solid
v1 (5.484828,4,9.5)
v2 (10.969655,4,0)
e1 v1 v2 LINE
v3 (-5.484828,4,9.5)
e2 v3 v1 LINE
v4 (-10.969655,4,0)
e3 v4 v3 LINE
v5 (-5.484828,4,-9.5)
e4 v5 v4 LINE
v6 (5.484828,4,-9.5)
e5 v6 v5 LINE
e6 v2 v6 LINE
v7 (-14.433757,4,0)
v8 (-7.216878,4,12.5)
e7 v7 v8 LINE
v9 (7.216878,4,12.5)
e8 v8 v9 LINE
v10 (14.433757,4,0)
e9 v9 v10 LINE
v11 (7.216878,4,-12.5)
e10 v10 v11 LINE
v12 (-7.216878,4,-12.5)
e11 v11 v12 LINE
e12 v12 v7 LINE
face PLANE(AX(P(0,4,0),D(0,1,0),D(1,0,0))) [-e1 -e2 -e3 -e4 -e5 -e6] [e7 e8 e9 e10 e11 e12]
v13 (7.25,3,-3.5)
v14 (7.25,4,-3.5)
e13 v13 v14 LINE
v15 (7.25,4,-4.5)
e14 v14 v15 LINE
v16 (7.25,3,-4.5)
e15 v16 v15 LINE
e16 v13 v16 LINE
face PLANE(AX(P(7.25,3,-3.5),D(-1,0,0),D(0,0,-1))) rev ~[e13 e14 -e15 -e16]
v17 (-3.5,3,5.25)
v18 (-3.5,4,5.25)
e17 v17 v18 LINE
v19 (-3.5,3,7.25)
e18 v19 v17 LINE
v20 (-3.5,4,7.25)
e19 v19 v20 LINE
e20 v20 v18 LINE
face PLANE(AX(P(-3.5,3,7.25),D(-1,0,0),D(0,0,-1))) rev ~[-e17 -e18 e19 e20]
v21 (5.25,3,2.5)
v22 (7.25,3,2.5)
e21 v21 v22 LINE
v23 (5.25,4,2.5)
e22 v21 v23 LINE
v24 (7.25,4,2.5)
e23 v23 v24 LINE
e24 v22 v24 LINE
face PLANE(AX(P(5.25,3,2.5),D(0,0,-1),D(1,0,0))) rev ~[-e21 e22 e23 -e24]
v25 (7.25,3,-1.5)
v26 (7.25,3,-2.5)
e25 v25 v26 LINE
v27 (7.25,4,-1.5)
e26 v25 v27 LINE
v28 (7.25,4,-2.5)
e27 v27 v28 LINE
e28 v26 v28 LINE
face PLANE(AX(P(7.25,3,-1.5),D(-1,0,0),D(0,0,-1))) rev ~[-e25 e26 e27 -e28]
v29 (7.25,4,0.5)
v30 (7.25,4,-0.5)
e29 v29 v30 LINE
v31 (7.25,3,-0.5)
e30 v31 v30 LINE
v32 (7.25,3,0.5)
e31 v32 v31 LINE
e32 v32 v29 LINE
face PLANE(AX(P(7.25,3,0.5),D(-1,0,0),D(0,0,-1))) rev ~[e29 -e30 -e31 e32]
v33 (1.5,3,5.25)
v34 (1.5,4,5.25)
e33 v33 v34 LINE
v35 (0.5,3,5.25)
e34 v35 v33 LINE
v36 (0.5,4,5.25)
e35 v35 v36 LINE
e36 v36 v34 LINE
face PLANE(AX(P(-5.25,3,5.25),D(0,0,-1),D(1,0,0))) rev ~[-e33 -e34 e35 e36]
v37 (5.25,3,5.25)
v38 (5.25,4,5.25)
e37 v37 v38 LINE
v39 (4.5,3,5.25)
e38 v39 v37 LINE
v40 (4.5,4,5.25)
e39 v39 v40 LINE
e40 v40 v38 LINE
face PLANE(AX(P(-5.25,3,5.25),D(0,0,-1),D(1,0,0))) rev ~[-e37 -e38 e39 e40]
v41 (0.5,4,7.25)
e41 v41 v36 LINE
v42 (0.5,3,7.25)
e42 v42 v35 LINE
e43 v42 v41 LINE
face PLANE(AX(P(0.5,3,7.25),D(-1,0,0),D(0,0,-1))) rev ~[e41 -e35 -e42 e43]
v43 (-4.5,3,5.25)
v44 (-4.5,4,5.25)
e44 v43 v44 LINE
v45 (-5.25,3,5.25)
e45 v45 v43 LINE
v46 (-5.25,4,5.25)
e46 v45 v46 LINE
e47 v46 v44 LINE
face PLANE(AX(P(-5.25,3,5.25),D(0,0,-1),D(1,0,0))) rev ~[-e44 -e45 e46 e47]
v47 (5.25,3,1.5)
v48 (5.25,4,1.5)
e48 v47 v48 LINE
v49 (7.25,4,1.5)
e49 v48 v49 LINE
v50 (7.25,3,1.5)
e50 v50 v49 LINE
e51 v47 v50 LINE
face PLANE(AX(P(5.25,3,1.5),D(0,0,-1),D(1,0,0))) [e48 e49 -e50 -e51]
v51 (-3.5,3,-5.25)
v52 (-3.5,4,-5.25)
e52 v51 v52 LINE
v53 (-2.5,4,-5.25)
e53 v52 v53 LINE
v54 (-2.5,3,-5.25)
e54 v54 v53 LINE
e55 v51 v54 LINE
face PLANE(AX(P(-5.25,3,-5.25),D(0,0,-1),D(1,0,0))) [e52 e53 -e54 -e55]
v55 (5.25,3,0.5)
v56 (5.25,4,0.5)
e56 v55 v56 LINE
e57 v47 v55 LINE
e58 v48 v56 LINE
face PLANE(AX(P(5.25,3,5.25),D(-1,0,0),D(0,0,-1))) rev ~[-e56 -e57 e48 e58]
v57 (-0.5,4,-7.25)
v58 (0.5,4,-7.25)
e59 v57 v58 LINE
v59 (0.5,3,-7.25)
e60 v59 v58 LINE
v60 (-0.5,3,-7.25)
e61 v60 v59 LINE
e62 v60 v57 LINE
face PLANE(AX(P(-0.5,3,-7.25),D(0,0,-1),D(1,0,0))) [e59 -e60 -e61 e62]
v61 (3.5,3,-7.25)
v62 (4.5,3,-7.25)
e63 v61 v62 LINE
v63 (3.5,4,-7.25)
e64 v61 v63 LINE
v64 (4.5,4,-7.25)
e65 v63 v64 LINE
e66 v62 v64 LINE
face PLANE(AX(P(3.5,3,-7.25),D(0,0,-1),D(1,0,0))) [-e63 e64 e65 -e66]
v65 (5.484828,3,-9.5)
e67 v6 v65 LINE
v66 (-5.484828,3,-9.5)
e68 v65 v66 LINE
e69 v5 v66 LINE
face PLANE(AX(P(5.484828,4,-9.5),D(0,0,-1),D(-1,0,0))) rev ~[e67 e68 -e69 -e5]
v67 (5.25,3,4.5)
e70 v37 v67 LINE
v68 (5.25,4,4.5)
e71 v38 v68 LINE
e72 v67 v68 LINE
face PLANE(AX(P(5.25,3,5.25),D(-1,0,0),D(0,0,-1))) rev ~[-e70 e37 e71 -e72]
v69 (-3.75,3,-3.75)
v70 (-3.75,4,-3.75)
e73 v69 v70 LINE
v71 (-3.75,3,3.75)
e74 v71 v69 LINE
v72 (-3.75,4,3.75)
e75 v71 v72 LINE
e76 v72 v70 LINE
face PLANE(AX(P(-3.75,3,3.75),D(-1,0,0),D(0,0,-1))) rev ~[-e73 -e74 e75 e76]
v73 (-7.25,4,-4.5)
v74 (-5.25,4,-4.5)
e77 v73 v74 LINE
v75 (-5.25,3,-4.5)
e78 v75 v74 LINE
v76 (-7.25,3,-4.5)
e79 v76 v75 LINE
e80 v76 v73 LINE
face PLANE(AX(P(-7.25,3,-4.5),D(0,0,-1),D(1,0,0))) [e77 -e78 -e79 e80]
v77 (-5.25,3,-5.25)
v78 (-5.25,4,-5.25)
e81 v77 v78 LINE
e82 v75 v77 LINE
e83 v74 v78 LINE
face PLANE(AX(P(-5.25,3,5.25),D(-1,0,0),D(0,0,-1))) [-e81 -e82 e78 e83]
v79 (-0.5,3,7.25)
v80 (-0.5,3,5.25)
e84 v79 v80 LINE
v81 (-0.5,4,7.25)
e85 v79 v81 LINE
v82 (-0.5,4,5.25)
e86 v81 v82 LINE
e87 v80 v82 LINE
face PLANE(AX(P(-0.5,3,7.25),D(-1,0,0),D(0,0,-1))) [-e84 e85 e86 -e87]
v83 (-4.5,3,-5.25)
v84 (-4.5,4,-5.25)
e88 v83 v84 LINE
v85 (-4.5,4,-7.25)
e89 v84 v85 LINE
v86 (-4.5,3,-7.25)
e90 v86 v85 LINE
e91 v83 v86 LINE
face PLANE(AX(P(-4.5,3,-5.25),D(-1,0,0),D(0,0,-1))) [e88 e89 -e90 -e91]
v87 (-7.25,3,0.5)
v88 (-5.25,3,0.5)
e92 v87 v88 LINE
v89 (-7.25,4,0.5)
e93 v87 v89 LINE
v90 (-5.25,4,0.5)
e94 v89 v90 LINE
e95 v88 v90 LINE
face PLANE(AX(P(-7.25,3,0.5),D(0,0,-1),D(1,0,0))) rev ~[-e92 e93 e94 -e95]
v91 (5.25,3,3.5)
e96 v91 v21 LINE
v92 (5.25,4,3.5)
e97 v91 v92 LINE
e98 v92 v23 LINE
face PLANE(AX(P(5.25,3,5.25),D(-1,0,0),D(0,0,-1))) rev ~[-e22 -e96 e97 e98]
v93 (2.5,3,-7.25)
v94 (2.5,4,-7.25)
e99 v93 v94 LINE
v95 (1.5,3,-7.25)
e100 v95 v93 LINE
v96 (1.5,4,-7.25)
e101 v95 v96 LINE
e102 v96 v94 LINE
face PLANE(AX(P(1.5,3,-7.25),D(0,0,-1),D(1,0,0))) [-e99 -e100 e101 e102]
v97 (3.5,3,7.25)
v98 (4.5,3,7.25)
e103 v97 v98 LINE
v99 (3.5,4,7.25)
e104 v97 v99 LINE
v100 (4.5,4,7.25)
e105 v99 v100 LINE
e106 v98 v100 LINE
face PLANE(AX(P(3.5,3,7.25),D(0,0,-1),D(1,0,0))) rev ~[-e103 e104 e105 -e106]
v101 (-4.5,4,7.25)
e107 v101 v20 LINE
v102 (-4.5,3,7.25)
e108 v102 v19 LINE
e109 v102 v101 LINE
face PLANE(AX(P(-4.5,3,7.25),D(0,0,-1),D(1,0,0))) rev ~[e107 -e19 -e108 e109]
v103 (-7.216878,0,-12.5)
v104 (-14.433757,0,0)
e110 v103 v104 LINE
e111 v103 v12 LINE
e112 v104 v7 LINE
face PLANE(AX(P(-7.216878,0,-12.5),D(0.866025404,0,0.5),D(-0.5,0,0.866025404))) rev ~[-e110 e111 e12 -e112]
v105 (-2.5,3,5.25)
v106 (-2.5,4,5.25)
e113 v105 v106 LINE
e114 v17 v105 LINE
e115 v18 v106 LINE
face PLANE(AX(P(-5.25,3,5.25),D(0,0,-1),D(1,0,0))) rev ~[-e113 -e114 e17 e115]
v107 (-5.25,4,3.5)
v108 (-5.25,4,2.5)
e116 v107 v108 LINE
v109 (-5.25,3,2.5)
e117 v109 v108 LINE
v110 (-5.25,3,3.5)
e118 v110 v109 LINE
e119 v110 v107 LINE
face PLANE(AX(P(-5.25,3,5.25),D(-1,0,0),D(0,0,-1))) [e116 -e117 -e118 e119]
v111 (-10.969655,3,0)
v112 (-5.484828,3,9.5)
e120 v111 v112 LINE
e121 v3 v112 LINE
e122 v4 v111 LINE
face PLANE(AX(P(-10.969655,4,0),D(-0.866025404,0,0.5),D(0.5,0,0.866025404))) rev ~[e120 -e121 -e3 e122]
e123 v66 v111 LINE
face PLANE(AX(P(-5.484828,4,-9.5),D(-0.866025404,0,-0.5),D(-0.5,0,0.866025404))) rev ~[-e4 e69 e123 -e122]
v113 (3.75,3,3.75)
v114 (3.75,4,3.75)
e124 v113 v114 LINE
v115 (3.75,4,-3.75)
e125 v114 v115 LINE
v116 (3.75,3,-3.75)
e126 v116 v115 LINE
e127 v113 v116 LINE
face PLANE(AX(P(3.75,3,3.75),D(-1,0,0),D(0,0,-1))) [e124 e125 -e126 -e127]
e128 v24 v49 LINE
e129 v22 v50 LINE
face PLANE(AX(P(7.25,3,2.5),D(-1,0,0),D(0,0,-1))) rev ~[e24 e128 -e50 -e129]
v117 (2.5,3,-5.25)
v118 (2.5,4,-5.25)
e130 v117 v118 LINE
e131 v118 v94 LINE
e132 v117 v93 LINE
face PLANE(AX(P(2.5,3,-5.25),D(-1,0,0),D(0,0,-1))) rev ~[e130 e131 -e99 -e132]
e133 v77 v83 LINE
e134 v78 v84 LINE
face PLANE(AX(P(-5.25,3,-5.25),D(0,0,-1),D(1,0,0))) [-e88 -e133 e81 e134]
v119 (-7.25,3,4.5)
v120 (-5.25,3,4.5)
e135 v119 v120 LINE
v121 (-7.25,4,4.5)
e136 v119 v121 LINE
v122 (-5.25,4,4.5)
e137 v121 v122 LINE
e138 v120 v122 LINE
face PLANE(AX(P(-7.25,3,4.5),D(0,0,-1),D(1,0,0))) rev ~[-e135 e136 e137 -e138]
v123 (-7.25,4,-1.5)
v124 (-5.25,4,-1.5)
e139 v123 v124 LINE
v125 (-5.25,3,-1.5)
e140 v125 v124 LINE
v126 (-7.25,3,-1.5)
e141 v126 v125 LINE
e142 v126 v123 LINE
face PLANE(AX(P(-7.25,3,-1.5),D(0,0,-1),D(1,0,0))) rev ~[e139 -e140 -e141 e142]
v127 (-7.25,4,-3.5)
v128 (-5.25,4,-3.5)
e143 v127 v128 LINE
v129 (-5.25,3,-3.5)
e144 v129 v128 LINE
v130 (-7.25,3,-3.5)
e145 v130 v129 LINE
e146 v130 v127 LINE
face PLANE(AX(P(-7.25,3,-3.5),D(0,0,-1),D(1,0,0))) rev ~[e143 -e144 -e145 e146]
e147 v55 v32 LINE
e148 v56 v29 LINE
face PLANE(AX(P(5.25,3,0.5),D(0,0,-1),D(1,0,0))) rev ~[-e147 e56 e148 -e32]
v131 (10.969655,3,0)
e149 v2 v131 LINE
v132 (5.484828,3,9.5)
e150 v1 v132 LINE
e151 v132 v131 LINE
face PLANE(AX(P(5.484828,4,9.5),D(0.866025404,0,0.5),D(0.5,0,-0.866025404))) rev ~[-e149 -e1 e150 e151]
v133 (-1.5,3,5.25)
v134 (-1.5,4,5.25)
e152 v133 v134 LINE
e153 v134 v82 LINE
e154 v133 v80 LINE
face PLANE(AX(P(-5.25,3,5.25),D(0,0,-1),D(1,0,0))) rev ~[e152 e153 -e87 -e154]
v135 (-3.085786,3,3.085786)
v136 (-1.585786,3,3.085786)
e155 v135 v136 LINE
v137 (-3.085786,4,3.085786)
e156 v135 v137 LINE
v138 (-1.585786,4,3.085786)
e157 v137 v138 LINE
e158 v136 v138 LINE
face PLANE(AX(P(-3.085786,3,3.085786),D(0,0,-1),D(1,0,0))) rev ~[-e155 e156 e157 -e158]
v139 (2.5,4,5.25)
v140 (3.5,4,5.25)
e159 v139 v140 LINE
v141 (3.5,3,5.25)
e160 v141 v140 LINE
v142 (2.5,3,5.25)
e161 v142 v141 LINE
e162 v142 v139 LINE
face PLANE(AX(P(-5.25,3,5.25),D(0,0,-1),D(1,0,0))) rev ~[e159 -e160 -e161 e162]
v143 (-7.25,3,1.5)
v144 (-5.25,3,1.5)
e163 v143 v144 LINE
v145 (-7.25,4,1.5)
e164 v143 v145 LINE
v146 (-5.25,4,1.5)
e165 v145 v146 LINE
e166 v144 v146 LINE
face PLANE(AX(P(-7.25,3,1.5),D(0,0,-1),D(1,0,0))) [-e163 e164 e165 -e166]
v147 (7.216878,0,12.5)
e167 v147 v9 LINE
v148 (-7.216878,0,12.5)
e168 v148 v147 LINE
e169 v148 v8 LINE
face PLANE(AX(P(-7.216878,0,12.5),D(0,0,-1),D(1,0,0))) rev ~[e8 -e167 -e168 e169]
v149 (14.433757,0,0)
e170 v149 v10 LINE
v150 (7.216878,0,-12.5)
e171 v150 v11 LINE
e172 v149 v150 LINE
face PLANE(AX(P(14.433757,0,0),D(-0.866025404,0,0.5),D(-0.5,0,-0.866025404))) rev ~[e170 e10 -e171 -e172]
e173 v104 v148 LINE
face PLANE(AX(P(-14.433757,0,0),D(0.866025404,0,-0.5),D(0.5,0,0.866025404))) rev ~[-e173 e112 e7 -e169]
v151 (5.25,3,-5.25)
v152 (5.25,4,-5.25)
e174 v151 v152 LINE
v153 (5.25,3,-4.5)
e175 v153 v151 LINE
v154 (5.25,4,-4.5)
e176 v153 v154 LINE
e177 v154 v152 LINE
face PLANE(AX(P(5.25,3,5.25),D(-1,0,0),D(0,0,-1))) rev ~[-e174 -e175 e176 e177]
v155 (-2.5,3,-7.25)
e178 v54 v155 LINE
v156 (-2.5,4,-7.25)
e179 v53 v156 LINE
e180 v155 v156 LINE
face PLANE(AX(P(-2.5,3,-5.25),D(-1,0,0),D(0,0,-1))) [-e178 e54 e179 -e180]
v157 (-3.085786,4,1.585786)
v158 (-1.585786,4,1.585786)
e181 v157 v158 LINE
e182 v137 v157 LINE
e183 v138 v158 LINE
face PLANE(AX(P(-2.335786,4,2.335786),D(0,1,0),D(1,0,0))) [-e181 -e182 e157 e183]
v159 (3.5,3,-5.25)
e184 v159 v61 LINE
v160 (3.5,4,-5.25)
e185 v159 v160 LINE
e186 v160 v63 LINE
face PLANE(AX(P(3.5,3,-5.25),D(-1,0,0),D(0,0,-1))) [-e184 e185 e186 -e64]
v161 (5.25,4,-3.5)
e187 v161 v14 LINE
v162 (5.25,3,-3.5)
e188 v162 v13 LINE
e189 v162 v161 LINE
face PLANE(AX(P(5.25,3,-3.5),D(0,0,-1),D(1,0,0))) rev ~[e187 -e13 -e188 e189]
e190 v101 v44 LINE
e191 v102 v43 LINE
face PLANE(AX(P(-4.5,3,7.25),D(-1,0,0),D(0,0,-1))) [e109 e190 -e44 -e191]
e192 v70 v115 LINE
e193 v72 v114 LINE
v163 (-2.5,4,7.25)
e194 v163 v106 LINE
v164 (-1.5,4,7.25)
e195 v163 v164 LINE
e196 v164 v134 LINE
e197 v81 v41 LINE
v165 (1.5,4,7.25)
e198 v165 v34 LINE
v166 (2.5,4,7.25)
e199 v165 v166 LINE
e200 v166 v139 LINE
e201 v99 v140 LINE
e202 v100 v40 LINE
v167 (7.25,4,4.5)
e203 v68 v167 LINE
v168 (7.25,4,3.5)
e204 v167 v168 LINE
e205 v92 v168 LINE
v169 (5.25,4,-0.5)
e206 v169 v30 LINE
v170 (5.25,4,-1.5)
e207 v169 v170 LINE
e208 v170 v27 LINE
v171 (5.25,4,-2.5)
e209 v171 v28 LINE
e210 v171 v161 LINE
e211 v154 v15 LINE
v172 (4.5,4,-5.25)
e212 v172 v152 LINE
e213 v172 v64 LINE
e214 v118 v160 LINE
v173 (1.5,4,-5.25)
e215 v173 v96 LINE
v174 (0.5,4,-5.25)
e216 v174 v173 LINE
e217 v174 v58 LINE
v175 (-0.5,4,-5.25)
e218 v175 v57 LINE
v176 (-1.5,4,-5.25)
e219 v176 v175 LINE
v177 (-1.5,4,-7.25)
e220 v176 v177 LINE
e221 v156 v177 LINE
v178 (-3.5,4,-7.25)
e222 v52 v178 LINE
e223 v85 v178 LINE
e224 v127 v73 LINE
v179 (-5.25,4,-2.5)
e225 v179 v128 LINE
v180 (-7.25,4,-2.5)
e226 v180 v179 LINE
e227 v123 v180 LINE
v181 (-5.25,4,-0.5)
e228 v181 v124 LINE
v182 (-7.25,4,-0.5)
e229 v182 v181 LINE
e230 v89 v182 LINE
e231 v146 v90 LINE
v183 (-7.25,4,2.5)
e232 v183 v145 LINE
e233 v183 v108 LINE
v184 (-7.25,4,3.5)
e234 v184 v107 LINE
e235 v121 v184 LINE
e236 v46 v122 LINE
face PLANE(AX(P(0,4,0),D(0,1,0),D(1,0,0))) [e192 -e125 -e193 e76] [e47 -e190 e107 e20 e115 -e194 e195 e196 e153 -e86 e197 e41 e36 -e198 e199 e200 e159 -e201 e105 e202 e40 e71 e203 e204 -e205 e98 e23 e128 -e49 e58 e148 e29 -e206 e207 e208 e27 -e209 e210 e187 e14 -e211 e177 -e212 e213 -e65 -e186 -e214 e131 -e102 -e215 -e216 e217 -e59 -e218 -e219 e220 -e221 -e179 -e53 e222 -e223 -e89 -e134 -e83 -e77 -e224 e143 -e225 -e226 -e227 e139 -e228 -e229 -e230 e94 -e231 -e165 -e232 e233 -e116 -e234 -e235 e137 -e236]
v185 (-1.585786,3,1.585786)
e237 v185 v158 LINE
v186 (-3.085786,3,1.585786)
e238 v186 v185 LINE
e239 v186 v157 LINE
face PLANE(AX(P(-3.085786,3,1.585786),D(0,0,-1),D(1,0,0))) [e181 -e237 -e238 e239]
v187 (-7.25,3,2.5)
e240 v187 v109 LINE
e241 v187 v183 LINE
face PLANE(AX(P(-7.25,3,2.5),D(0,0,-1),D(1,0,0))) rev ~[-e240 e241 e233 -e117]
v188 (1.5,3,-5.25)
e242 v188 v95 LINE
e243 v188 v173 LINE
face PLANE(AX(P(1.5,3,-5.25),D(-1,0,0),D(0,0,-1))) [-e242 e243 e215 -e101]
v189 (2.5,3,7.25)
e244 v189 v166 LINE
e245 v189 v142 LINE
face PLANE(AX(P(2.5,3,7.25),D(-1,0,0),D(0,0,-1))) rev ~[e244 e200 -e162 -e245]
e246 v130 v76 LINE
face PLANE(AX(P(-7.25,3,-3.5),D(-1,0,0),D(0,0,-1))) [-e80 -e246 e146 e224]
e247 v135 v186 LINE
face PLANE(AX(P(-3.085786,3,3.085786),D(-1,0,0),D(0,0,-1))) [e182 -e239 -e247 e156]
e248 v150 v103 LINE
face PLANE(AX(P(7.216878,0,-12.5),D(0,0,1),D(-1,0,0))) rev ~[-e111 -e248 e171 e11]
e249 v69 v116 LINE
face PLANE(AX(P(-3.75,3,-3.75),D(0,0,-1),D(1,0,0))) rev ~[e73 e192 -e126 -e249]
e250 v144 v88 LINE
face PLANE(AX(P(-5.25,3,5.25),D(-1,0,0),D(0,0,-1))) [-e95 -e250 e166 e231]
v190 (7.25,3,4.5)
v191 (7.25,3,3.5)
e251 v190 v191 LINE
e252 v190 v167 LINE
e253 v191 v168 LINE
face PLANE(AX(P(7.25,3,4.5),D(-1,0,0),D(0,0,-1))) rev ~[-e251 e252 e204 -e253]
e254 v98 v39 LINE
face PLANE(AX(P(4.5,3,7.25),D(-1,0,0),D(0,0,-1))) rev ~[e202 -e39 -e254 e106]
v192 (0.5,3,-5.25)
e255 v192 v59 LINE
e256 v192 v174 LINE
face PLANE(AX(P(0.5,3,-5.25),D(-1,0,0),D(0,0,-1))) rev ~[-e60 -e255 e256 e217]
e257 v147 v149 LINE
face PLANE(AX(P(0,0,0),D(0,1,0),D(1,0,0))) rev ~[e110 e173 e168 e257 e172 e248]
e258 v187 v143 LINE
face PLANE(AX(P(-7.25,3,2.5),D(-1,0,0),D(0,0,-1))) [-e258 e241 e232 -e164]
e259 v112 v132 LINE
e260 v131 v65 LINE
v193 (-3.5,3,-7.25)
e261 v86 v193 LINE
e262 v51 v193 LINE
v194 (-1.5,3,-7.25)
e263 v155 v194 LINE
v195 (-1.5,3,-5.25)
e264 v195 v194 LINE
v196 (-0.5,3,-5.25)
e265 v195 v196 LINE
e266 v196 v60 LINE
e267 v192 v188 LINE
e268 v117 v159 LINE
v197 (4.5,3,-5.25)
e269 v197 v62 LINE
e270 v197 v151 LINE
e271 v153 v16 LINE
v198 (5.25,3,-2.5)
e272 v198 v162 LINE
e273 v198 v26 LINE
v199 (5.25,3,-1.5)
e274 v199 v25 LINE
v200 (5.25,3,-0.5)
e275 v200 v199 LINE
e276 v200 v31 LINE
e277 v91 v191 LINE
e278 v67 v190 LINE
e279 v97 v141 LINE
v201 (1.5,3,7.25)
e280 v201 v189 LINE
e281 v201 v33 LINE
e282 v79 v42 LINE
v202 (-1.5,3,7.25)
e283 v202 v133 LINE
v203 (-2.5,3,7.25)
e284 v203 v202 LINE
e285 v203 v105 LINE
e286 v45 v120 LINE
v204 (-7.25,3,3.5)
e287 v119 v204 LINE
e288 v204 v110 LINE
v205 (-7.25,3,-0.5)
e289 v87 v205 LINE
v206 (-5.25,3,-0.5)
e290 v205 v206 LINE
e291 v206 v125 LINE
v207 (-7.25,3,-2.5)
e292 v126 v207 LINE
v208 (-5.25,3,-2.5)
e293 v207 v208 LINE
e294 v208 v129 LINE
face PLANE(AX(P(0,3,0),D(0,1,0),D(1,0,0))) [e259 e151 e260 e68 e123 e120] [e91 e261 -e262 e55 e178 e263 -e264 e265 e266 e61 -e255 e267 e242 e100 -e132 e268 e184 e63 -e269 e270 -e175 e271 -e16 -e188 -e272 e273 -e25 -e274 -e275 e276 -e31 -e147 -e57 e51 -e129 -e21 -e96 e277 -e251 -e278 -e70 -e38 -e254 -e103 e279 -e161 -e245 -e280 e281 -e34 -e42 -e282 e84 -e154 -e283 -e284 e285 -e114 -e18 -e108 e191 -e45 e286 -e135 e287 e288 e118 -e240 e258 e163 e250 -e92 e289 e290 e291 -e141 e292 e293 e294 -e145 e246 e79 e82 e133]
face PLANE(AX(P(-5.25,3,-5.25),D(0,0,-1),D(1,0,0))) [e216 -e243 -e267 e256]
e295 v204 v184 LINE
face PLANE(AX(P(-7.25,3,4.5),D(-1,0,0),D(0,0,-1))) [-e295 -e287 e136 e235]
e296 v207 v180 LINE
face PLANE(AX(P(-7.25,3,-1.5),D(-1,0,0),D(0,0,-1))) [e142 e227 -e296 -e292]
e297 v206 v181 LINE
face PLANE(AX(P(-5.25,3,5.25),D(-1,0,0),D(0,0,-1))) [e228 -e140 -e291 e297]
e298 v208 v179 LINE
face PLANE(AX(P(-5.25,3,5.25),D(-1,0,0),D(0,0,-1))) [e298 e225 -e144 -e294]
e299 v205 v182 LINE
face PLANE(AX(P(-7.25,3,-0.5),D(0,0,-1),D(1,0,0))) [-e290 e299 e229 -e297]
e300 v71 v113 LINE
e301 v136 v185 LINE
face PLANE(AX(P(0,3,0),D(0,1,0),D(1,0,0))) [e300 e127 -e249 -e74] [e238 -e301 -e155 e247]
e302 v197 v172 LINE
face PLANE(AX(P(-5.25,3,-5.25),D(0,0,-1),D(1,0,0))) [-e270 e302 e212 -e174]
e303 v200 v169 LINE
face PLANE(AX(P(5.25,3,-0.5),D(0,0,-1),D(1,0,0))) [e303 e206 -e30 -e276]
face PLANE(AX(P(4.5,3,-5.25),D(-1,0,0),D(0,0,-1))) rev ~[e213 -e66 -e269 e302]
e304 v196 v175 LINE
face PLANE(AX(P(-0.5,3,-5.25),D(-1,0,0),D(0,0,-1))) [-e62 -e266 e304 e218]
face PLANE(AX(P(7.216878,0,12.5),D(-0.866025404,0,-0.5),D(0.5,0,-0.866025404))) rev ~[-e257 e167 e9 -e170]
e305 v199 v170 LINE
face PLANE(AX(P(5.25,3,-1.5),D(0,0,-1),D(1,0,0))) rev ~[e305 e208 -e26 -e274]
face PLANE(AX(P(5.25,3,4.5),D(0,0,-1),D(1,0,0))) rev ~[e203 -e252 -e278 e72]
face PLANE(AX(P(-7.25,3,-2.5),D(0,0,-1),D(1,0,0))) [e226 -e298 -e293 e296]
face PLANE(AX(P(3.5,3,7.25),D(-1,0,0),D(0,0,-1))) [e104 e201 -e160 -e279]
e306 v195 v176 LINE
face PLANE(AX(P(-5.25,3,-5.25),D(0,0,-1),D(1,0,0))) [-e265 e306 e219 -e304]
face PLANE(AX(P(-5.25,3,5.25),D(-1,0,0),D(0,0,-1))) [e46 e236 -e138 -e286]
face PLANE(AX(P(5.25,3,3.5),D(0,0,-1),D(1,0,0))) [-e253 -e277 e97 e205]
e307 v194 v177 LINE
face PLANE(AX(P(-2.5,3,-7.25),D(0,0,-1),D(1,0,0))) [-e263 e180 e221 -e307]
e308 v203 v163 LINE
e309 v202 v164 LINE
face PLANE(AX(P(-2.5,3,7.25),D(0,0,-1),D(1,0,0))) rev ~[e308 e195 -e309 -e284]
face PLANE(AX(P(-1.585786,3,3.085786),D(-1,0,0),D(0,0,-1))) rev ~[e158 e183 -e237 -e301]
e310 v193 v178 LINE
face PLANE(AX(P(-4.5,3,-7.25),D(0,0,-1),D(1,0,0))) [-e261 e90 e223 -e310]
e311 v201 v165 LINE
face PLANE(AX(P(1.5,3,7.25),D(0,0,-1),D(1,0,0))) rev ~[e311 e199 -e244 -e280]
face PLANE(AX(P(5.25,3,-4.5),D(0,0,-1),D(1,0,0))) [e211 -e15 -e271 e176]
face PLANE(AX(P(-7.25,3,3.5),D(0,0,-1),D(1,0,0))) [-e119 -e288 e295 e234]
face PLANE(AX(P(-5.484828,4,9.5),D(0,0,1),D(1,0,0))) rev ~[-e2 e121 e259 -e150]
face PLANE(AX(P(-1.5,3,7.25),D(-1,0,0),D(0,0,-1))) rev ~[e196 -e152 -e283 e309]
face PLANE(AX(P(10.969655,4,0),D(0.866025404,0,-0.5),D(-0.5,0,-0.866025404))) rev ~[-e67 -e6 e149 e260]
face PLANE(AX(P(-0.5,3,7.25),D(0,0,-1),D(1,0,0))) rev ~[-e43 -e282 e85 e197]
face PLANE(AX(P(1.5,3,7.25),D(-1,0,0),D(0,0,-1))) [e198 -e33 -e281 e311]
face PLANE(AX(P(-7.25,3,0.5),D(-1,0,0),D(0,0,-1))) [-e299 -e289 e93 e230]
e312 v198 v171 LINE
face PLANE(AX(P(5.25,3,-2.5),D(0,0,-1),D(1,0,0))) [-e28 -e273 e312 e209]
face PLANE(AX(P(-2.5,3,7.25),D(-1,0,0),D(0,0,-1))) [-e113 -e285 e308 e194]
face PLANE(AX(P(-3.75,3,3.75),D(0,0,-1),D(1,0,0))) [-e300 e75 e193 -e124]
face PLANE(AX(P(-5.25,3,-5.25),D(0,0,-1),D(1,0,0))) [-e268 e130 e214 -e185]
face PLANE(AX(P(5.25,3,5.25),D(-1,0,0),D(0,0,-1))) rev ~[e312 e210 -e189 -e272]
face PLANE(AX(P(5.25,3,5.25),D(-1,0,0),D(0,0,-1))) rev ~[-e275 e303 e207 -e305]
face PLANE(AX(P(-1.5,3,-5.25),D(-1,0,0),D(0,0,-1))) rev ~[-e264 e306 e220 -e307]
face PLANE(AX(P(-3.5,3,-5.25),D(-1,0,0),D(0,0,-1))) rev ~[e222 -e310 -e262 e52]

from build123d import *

# Parameters (mm, degrees)
EXTRUDE_1_DEPTH     = 4
CUT_EXTRUDE_1_DEPTH = 1
SKETCH_3_W          = 7.5
SKETCH_3_H          = 7.5
EXTRUDE_2_DEPTH     = 1
SKETCH_4_W          = 1.5
SKETCH_4_H          = 1.5
EXTRUDE_3_DEPTH     = 1


with BuildPart() as part:
    # 草图1 → 凸台-拉伸1 (new body)
    with BuildSketch(Plane(origin=(0, 0, 0), x_dir=(1, 0, 0), z_dir=(0, 1, 0))):
        Polygon((14.43375673, 0), (7.216878365, 12.5), (-7.216878365, 12.5), (-14.43375673, 0), (-7.216878365, -12.5), (7.216878365, -12.5), align=None)
    extrude(amount=EXTRUDE_1_DEPTH)

    # 草图2 → 切除-拉伸1 (cut)
    with BuildSketch(Plane(origin=(0, 4, 0), x_dir=(1, 0, 0), z_dir=(0, 1, 0))):
        Polygon((5.484827557, -9.5), (10.969655115, 0), (5.484827557, 9.5), (-5.484827557, 9.5), (-10.969655115, 0), (-5.484827557, -9.5), align=None)
    extrude(amount=-CUT_EXTRUDE_1_DEPTH, mode=Mode.SUBTRACT)

    # 草图3 → 凸台-拉伸2 (add)
    with BuildSketch(Plane(origin=(0, 3, 0), x_dir=(1, 0, 0), z_dir=(0, 1, 0))):
        Polygon((7.25, -3.5), (5.25, -3.5), (5.25, -2.5), (7.25, -2.5), (7.25, -1.5), (5.25, -1.5), (5.25, -0.5), (7.25, -0.5), (7.25, 0.5), (5.25, 0.5), (5.25, 1.5), (7.25, 1.5), (7.25, 2.5), (5.25, 2.5), (5.25, 3.5), (7.25, 3.5), (7.25, 4.5), (5.25, 4.5), (5.25, 5.25), (4.5, 5.25), (4.5, 7.25), (3.5, 7.25), (3.5, 5.25), (2.5, 5.25), (2.5, 7.25), (1.5, 7.25), (1.5, 5.25), (0.5, 5.25), (0.5, 7.25), (-0.5, 7.25), (-0.5, 5.25), (-1.5, 5.25), (-1.5, 7.25), (-2.5, 7.25), (-2.5, 5.25), (-3.5, 5.25), (-3.5, 7.25), (-4.5, 7.25), (-4.5, 5.25), (-5.25, 5.25), (-5.25, 4.5), (-7.25, 4.5), (-7.25, 3.5), (-5.25, 3.5), (-5.25, 2.5), (-7.25, 2.5), (-7.25, 1.5), (-5.25, 1.5), (-5.25, 0.5), (-7.25, 0.5), (-7.25, -0.5), (-5.25, -0.5), (-5.25, -1.5), (-7.25, -1.5), (-7.25, -2.5), (-5.25, -2.5), (-5.25, -3.5), (-7.25, -3.5), (-7.25, -4.5), (-5.25, -4.5), (-5.25, -5.25), (-4.5, -5.25), (-4.5, -7.25), (-3.5, -7.25), (-3.5, -5.25), (-2.5, -5.25), (-2.5, -7.25), (-1.5, -7.25), (-1.5, -5.25), (-0.5, -5.25), (-0.5, -7.25), (0.5, -7.25), (0.5, -5.25), (1.5, -5.25), (1.5, -7.25), (2.5, -7.25), (2.5, -5.25), (3.5, -5.25), (3.5, -7.25), (4.5, -7.25), (4.5, -5.25), (5.25, -5.25), (5.25, -4.5), (7.25, -4.5), align=None)
        Rectangle(SKETCH_3_W, SKETCH_3_H, mode=Mode.SUBTRACT)
    extrude(amount=EXTRUDE_2_DEPTH)

    # 草图4 → 凸台-拉伸3 (add)
    with BuildSketch(Plane(origin=(0, 3, 0), x_dir=(1, 0, 0), z_dir=(0, 1, 0))):
        with Locations((-2.335786438, -2.335786438)):
            Rectangle(SKETCH_4_W, SKETCH_4_H)
    extrude(amount=EXTRUDE_3_DEPTH)


solid = part.part
